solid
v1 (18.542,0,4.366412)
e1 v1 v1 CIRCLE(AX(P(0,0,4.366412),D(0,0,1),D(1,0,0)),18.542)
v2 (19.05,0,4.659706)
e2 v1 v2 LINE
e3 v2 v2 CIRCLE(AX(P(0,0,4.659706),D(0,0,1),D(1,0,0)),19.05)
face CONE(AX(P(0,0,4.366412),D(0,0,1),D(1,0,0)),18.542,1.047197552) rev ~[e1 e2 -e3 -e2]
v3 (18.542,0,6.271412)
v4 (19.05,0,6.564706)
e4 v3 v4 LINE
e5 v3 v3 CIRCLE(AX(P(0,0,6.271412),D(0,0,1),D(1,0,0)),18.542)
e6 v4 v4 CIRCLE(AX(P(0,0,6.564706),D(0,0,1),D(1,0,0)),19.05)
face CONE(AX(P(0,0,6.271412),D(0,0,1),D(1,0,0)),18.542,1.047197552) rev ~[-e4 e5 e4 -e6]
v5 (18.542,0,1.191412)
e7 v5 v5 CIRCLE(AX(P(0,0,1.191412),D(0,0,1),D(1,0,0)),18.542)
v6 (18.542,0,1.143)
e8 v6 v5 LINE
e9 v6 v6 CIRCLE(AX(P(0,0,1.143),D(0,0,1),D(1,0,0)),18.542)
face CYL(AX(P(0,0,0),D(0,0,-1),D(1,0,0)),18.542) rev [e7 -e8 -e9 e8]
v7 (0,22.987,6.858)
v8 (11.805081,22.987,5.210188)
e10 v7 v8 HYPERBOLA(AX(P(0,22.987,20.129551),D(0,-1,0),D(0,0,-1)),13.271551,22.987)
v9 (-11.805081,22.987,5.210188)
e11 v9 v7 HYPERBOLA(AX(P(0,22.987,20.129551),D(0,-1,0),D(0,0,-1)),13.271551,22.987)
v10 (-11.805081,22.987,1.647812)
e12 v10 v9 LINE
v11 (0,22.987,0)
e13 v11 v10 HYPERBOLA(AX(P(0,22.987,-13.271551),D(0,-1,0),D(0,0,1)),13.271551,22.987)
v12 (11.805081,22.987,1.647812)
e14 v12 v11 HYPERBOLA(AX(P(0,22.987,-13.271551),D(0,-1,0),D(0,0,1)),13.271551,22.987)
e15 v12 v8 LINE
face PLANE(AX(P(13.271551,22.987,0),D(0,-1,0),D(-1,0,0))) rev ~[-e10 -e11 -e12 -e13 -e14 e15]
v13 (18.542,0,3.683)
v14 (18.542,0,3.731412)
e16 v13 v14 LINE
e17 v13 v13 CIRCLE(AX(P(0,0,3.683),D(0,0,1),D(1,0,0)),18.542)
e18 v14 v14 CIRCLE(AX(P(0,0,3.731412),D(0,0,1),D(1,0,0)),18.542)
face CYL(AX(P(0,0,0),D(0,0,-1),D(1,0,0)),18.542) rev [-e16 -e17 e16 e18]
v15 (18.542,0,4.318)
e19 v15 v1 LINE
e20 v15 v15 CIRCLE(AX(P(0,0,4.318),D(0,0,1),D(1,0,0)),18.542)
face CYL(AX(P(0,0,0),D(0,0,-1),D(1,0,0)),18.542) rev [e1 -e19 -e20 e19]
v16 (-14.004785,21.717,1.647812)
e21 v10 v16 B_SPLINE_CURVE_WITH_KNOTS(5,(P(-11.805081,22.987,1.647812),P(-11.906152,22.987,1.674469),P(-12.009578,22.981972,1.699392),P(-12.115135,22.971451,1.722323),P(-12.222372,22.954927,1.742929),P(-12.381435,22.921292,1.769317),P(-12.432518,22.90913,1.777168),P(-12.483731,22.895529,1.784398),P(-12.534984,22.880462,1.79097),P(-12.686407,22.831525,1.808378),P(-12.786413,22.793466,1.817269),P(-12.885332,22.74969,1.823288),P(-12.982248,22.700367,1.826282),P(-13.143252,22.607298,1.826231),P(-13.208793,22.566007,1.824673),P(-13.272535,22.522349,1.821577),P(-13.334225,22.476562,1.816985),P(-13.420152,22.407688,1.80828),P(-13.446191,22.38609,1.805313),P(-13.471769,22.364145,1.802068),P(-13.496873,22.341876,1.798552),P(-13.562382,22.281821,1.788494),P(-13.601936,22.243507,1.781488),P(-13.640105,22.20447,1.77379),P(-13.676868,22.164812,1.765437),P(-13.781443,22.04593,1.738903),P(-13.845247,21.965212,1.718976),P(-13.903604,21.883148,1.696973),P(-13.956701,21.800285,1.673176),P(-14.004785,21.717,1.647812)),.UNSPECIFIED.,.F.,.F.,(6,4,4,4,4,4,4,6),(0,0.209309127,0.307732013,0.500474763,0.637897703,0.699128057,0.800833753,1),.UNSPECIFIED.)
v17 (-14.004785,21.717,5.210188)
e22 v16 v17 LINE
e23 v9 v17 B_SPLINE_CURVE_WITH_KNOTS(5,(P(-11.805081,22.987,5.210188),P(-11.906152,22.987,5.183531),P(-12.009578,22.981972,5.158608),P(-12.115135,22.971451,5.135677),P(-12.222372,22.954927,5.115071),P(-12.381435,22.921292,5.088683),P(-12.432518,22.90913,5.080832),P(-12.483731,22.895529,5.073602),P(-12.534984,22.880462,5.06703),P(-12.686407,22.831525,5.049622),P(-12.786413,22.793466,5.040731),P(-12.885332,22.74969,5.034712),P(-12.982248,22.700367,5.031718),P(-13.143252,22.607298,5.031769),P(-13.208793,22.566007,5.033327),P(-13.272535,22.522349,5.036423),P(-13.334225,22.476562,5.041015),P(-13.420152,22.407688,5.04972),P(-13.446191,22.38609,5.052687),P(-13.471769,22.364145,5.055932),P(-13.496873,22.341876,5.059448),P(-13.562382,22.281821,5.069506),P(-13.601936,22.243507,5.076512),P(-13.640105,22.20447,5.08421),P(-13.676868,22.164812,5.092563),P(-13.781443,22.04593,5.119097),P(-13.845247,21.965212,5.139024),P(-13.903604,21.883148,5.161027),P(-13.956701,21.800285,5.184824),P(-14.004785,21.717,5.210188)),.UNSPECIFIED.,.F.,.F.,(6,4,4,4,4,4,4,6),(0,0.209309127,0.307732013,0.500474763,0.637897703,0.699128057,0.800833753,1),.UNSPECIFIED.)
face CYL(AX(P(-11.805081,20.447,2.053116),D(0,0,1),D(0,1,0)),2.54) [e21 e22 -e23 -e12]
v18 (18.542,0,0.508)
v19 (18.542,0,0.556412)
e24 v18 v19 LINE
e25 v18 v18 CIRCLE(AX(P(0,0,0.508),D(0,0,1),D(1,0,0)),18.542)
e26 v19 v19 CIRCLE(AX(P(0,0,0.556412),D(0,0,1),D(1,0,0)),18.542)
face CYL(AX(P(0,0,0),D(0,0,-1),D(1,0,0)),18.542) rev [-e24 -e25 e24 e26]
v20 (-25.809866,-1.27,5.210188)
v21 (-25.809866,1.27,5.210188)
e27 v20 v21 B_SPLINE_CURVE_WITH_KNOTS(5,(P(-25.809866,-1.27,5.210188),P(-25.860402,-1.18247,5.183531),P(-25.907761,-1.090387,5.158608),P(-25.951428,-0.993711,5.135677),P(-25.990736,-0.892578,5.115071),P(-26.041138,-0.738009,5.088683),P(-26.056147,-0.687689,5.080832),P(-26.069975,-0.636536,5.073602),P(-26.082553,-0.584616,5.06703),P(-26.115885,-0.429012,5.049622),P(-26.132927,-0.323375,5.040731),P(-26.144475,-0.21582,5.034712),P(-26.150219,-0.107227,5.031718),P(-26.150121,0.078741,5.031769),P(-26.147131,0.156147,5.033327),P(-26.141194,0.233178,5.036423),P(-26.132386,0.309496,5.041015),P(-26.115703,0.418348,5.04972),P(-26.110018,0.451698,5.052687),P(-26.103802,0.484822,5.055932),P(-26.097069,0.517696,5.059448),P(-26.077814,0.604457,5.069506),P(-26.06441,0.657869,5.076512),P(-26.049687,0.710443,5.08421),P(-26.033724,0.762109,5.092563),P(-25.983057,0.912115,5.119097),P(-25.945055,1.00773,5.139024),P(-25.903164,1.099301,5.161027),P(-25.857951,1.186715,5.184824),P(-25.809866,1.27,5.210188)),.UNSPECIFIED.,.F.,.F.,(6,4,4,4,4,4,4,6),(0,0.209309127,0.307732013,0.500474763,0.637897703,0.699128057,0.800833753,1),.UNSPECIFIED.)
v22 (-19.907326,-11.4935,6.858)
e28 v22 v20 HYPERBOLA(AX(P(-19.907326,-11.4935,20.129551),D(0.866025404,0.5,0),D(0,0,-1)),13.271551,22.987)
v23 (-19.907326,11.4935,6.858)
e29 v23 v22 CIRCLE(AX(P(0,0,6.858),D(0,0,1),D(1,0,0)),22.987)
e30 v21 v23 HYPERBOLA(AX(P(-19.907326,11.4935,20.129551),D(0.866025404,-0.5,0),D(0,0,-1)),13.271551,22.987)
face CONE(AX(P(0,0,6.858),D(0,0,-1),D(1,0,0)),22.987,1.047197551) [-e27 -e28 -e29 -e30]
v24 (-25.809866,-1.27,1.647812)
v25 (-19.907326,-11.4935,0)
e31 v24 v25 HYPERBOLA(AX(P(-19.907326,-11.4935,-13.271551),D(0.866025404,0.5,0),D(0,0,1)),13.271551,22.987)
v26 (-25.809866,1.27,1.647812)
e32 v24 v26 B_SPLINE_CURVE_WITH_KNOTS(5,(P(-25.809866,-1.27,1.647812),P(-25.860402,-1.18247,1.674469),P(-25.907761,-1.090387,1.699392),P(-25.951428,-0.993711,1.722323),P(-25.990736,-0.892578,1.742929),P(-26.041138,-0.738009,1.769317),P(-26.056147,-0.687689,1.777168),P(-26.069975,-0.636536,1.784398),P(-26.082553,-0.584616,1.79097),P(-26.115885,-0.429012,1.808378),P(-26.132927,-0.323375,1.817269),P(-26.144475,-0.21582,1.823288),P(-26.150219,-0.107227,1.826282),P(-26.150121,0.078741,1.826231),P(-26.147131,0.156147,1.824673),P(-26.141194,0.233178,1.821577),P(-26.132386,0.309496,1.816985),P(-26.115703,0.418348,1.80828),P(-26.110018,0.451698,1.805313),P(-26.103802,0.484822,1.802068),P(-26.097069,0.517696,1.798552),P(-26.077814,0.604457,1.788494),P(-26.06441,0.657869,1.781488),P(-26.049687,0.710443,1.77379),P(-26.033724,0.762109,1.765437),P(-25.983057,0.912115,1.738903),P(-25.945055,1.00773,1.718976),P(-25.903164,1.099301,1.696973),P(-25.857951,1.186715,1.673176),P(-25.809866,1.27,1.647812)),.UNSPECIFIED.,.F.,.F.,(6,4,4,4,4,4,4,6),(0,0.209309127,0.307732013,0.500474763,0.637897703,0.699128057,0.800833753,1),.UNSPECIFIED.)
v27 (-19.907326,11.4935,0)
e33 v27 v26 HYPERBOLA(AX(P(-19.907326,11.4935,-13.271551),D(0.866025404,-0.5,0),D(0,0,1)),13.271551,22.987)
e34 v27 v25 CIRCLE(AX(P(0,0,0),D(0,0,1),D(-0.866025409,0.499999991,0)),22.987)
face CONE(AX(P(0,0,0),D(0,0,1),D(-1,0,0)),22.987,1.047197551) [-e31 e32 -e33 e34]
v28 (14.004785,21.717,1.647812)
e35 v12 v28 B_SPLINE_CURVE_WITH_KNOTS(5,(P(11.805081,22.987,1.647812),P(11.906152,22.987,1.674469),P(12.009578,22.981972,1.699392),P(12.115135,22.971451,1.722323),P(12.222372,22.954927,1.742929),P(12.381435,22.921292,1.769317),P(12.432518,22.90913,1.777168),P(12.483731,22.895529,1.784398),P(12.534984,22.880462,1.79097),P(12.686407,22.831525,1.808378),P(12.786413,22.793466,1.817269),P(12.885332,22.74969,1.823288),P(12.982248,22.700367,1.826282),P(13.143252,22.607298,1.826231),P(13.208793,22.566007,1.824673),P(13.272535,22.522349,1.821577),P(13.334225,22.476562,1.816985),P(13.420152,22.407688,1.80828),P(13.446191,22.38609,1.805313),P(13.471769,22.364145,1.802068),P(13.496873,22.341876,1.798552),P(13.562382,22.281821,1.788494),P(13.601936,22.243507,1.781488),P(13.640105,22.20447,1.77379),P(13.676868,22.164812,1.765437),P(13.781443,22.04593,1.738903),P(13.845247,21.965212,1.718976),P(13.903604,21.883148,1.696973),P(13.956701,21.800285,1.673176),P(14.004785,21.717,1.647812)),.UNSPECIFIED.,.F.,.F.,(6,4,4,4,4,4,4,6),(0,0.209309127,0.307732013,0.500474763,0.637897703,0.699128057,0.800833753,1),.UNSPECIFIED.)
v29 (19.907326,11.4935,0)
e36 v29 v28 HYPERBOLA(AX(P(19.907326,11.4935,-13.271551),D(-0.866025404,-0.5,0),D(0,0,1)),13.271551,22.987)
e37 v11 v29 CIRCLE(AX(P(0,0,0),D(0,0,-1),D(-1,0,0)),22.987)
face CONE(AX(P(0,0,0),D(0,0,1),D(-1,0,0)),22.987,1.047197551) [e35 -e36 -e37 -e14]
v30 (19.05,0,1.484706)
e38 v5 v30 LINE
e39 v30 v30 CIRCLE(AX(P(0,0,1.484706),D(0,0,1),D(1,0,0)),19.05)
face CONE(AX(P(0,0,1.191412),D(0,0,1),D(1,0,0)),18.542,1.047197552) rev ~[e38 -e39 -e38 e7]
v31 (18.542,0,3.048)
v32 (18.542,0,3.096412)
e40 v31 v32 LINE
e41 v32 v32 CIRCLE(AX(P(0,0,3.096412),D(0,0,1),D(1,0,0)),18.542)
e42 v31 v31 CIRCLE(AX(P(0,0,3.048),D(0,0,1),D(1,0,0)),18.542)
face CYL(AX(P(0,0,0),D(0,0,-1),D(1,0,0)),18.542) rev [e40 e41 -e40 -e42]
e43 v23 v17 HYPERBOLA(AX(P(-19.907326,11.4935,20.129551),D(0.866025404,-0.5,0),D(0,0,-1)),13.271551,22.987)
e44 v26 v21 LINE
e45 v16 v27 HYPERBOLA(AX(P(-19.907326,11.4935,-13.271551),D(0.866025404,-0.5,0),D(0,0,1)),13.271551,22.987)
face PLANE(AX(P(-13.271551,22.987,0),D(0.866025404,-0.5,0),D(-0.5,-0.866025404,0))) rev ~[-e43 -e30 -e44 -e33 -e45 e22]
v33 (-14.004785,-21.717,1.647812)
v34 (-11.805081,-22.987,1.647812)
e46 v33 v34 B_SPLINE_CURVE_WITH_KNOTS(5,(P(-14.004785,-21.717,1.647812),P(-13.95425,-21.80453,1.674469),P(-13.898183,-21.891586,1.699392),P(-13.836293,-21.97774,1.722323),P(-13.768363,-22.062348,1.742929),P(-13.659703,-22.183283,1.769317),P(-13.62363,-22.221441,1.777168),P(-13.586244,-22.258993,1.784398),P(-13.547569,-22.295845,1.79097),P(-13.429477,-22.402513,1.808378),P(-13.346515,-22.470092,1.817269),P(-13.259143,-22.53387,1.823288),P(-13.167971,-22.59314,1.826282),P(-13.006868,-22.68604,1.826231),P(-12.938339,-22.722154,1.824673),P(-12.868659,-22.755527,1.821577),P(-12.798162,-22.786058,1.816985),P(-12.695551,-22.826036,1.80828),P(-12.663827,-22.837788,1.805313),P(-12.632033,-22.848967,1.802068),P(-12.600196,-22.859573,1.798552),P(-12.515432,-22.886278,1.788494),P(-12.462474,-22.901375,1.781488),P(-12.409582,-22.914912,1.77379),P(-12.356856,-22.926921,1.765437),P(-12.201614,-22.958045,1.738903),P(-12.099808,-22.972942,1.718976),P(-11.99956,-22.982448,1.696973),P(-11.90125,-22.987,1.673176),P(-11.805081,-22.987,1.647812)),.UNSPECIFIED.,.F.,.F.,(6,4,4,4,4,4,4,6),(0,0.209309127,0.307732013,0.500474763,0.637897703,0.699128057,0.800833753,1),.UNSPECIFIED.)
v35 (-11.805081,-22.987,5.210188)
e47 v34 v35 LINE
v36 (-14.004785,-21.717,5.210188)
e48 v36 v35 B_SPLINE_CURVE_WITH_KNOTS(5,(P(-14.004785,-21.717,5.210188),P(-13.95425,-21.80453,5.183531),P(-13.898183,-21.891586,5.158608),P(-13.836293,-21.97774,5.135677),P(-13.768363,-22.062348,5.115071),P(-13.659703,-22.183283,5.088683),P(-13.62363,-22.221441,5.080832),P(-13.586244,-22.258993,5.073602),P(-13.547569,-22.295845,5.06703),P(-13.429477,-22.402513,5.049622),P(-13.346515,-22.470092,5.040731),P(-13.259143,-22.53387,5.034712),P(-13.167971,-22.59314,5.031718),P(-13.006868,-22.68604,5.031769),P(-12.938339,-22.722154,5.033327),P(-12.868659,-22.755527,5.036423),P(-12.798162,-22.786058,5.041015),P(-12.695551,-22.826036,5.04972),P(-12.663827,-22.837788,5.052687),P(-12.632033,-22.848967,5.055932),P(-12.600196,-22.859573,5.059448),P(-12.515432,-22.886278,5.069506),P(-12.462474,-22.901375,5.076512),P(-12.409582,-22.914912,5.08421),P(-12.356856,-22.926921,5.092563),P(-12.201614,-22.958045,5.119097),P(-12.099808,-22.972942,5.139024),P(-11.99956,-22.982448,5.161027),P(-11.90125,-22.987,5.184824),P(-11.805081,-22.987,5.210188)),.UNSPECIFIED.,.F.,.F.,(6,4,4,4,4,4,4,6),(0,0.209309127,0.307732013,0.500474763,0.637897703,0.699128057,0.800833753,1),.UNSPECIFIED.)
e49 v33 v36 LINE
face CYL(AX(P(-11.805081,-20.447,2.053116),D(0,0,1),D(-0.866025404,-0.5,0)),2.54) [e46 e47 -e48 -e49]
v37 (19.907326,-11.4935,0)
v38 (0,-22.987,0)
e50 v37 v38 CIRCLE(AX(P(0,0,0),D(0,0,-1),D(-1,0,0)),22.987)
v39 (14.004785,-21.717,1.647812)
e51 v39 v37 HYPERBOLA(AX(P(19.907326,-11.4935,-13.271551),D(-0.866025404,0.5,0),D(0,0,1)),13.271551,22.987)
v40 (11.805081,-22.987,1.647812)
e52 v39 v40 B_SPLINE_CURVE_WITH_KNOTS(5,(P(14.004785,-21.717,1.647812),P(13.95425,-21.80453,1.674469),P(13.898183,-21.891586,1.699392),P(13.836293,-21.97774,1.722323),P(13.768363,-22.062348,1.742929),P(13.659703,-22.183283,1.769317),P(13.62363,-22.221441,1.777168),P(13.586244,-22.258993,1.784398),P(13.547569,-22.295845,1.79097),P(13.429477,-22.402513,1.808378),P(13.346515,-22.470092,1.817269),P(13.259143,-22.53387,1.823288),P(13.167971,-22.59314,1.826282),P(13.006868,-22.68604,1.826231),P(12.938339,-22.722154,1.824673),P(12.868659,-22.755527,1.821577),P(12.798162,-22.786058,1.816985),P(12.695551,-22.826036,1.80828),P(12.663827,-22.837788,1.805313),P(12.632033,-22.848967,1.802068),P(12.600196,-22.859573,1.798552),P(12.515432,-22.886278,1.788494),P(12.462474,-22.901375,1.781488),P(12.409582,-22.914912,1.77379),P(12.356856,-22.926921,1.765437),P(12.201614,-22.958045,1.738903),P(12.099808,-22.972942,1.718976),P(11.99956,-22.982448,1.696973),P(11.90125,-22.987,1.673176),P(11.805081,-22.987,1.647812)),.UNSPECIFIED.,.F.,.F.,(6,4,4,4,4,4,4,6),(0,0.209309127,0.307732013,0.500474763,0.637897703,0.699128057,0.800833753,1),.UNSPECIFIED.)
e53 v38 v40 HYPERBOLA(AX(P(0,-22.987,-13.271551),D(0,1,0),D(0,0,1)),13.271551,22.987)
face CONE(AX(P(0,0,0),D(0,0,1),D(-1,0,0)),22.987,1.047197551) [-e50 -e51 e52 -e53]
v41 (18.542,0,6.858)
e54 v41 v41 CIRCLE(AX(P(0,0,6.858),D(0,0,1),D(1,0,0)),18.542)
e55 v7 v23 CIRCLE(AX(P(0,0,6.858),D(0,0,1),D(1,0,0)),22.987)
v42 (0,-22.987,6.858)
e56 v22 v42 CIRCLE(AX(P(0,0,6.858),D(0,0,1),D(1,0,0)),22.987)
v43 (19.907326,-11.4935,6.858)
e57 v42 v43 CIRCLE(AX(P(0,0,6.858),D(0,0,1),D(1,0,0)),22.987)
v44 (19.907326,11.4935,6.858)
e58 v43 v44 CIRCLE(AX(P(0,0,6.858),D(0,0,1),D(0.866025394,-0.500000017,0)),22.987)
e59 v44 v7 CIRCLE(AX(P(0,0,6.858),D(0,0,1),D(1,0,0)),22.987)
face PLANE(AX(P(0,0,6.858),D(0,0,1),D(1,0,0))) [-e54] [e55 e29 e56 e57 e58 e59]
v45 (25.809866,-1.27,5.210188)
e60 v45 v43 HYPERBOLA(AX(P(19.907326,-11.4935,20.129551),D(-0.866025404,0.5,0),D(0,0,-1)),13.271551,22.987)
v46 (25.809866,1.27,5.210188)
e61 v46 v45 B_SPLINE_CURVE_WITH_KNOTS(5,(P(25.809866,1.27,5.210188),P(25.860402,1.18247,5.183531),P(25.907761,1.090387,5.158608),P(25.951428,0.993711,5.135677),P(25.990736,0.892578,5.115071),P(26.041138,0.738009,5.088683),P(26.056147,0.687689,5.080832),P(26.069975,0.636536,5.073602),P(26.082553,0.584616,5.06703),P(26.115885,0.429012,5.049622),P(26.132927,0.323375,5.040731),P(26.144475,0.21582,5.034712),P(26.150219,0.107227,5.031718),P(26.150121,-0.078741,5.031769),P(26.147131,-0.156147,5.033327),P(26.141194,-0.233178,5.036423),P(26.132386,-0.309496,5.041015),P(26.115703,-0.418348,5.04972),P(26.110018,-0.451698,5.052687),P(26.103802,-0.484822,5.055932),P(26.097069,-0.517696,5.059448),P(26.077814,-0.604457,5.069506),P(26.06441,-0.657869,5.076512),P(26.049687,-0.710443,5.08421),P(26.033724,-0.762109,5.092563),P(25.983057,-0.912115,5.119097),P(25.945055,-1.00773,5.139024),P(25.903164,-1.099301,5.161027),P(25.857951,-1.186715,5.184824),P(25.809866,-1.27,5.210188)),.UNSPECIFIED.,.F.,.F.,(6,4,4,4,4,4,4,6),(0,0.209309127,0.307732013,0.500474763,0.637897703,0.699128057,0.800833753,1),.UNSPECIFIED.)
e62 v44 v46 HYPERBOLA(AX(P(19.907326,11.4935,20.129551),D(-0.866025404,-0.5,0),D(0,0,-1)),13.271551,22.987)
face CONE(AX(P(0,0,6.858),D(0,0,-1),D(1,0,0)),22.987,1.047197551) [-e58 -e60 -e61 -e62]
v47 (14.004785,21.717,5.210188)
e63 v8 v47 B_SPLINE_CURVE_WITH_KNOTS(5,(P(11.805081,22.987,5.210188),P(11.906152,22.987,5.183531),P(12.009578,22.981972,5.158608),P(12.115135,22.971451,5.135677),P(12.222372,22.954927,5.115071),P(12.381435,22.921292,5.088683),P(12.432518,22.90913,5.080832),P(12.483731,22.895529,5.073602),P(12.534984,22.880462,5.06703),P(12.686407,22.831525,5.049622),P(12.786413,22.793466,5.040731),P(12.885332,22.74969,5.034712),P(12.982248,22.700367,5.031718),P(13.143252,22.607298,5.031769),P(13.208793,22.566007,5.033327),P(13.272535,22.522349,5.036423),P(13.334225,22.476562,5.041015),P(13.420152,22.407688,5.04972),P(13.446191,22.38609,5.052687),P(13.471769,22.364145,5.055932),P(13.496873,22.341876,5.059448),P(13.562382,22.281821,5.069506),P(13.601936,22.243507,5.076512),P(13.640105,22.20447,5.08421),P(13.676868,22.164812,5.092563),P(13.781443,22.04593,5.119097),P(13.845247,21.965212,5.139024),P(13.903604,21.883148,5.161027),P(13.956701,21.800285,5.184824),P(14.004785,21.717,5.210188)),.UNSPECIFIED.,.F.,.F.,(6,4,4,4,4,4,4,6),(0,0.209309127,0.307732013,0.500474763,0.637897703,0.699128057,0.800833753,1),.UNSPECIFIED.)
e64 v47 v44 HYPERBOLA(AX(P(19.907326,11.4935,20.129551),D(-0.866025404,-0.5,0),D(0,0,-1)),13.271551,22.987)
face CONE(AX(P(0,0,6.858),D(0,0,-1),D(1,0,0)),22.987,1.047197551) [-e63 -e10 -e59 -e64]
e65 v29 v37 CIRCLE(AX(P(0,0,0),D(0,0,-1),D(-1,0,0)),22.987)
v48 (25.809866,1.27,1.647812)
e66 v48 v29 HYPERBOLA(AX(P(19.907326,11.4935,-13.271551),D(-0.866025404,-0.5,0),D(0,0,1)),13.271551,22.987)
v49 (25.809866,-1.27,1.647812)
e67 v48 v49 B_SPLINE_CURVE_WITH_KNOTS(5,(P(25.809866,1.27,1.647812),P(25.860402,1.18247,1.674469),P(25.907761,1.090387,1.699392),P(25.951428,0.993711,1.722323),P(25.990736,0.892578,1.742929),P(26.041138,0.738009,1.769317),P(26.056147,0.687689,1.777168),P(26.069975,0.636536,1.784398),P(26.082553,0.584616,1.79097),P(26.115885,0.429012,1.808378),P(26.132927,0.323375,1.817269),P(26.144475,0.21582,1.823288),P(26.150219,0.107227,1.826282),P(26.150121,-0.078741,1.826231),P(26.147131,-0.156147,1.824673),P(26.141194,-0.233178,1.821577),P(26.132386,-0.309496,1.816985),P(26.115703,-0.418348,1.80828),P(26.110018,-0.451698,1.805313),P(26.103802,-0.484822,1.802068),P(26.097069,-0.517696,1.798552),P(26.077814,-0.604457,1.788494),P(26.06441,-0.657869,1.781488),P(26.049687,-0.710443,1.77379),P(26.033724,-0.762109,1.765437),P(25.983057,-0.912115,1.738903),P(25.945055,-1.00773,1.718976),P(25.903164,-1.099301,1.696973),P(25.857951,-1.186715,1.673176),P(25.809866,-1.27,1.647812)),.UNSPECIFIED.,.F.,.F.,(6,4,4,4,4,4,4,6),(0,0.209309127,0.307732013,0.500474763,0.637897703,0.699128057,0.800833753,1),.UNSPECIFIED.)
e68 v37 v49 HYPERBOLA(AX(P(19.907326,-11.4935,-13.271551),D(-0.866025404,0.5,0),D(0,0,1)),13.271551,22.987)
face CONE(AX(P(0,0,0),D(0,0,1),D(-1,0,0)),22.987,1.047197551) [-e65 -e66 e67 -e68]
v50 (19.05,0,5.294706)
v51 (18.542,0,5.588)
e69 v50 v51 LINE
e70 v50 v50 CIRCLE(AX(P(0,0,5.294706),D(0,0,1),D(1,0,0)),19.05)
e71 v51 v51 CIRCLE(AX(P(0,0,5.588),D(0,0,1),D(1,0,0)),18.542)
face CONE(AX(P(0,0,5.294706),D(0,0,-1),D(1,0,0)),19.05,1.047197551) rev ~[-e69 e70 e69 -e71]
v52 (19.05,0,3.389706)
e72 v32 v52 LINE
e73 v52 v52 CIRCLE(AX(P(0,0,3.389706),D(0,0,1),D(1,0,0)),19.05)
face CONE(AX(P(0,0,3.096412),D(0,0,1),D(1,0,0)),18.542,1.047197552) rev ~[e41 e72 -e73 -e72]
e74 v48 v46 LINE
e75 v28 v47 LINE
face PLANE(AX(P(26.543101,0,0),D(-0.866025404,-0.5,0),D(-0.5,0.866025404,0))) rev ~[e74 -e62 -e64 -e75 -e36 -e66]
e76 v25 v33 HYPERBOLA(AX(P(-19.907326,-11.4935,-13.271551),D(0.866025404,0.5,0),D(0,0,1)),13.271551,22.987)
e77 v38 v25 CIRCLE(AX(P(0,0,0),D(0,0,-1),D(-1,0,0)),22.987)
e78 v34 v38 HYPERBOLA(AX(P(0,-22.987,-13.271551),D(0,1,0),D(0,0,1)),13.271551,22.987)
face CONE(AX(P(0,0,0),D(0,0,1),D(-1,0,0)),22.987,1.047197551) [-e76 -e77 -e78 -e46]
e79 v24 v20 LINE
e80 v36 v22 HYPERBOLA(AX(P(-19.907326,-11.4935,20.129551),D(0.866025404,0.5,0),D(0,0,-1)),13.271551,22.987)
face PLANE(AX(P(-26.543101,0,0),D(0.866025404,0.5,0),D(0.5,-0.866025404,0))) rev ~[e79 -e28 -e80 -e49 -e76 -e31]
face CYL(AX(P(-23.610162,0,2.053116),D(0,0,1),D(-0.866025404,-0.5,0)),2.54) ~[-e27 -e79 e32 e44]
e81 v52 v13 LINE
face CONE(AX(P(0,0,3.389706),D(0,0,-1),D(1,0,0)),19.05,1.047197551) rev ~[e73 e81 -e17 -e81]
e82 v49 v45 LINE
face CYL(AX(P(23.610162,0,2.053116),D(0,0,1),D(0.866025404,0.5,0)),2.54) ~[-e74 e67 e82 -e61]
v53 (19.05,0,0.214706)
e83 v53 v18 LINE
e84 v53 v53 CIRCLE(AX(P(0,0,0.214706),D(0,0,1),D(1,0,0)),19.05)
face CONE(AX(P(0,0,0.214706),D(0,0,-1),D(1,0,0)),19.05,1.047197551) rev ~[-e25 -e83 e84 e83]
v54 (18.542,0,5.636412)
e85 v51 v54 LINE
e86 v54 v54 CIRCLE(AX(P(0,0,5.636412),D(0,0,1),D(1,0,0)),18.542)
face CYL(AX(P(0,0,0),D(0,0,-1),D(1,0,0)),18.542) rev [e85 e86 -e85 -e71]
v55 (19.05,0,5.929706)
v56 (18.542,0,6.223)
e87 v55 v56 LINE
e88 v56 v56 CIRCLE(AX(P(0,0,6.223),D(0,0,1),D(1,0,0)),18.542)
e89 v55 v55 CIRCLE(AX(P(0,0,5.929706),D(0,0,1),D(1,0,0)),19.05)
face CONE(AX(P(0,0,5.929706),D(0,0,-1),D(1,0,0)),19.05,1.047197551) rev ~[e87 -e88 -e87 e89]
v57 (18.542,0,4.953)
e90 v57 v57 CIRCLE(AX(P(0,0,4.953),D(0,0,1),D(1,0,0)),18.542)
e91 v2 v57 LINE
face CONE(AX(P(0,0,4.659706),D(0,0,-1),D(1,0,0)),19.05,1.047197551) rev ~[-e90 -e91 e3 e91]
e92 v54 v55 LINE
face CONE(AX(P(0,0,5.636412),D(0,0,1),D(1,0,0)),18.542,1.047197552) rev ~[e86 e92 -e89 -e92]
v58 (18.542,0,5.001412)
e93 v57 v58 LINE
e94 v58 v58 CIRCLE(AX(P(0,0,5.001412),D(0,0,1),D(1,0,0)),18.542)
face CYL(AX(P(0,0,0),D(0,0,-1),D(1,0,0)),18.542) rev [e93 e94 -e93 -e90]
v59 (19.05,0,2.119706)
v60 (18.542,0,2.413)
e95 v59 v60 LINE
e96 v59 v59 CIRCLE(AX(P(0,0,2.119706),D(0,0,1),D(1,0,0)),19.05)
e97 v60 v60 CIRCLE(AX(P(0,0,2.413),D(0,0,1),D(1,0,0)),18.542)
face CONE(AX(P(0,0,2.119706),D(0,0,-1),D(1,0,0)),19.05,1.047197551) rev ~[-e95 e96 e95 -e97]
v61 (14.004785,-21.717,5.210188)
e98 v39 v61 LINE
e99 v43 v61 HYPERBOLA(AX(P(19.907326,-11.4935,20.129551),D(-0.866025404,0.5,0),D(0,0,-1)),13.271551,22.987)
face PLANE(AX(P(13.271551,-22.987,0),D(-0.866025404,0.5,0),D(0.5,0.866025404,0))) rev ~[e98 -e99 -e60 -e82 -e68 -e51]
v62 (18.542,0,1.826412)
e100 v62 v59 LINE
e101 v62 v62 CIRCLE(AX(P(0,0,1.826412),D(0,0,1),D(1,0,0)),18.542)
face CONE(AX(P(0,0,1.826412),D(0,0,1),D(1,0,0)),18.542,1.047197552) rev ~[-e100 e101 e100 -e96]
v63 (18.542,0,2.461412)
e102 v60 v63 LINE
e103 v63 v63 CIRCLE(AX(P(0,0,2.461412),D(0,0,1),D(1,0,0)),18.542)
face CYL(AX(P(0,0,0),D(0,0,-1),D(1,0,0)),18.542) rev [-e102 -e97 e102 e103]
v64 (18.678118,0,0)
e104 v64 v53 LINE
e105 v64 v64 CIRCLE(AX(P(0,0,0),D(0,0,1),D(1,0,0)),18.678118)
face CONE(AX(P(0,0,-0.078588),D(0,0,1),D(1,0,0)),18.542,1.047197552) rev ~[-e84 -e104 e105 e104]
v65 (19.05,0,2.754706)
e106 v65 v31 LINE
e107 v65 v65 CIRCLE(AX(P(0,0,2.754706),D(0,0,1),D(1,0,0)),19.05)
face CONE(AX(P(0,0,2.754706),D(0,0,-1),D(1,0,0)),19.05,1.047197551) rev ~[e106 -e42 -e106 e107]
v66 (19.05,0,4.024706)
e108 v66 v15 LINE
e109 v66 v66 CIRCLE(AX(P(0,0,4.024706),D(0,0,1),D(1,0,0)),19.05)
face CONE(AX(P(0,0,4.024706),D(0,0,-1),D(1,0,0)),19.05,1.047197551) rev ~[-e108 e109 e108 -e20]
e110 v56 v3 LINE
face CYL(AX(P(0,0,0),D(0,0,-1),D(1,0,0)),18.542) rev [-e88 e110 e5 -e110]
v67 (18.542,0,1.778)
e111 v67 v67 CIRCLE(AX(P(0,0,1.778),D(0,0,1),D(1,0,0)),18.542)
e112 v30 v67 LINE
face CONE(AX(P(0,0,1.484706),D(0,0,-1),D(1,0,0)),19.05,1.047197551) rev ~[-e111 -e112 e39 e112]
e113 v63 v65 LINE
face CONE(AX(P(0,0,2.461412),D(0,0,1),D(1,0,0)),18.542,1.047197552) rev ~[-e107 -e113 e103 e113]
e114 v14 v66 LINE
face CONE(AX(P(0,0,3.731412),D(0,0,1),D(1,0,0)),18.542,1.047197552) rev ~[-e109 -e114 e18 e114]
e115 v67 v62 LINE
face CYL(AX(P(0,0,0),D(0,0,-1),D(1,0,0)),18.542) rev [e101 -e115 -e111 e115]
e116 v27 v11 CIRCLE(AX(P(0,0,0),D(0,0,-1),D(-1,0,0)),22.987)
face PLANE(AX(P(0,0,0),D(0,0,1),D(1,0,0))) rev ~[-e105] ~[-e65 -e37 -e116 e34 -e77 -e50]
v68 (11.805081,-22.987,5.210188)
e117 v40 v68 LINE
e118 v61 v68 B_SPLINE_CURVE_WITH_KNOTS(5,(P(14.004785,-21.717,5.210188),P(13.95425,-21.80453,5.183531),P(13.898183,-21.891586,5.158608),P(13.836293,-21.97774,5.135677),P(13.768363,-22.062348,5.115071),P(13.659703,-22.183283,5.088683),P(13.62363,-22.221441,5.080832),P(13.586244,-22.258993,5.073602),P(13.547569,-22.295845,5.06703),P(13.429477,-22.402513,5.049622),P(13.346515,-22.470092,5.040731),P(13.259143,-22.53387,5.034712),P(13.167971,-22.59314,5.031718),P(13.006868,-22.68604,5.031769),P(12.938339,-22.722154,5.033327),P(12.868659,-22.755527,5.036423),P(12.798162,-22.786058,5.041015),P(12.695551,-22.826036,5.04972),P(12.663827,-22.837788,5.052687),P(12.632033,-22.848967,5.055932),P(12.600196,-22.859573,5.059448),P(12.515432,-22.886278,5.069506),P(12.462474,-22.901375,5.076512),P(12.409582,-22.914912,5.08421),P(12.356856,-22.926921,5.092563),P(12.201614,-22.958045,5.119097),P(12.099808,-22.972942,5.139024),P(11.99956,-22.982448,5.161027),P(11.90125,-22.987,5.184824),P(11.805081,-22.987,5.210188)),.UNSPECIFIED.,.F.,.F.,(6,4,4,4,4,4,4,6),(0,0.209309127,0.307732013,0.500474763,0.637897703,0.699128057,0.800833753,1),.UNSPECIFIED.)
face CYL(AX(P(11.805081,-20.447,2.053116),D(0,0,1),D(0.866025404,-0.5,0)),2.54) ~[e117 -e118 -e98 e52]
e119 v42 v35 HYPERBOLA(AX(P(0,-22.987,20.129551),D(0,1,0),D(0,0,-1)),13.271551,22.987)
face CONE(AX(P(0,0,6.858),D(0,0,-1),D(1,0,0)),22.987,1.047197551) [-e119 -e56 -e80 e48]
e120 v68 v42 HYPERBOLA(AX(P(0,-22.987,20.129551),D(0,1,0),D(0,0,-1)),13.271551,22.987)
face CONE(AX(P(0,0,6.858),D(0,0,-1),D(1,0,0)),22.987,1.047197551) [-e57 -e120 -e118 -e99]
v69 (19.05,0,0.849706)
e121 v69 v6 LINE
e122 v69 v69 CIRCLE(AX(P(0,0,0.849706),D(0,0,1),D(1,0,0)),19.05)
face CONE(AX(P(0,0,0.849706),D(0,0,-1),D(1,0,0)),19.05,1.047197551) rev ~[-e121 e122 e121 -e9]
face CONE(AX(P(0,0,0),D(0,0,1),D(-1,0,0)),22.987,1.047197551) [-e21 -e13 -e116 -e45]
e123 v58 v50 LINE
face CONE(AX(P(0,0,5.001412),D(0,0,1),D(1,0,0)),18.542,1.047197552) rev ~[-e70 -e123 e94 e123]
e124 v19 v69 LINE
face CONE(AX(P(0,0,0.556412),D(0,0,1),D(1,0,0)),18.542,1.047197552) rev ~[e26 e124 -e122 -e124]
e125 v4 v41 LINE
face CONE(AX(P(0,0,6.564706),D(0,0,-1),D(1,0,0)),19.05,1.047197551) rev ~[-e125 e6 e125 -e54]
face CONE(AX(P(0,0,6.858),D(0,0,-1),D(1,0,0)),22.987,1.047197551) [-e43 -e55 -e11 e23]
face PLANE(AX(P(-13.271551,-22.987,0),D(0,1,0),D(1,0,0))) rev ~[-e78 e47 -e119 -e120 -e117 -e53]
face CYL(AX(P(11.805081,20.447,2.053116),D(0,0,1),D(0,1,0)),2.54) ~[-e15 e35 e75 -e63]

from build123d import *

# Parameters (mm, degrees)
SKETCH1_R          = 18.542
EXTRUDE1_DEPTH     = 6.858
SKETCH2_OUTSIDE_W  = 96.42
SKETCH2_OUTSIDE_H  = 89.308
SKETCH2_OUTSIDE_R  = 22.987
CUT_EXTRUDE1_DEPTH = 7.858
CUT_EXTRUDE1_DRAFT = -60
SKETCH3_OUTSIDE_W  = 96.42
SKETCH3_OUTSIDE_H  = 89.308
SKETCH3_OUTSIDE_R  = 22.987
CUT_EXTRUDE2_DEPTH = 7.858
CUT_EXTRUDE2_DRAFT = -60
FILLET1_R          = 2.54
LPATTERN1_COUNT    = 11
LPATTERN1_PITCH    = 0.635


with BuildPart() as part:
    # Sketch1 → Extrude1 (new body)
    with BuildSketch(Plane.XY):
        Polygon((-26.543101276, 0), (-13.271550638, -22.987), (13.271550638, -22.987), (26.543101276, 0), (13.271550638, 22.987), (-13.271550638, 22.987), align=None)
        Circle(SKETCH1_R, mode=Mode.SUBTRACT)
    extrude(amount=EXTRUDE1_DEPTH)


with BuildPart() as cut_extrude1_tool:
    # Sketch2 outside → Cut-Extrude1 (with draft: the straight prism first)
    with BuildSketch(Plane.XY.offset(6.858)):
        Rectangle(SKETCH2_OUTSIDE_W, SKETCH2_OUTSIDE_H)
        Circle(SKETCH2_OUTSIDE_R, mode=Mode.SUBTRACT)
    extrude(amount=-CUT_EXTRUDE1_DEPTH)
    # Cut-Extrude1: the draft: its side faces are tilted about the plane it starts from
    cut_extrude1_sides = [cut_extrude1_tool.faces().sort_by_distance(p)[0] for p in [
        (0, -44.654, 2.929),
        (48.21, 0, 2.929),
        (0, 44.654, 2.929),
        (-48.21, 0, 2.929),
        (-22.987, 0, 2.929),
    ]]
    draft(cut_extrude1_sides, Plane.XY.offset(6.858), CUT_EXTRUDE1_DRAFT)


with BuildPart() as part_1:
    add(part.part)

    # Cut-Extrude1: cut by cut_extrude1_tool
    add(cut_extrude1_tool.part, mode=Mode.SUBTRACT)


with BuildPart() as cut_extrude2_tool:
    # Sketch3 outside → Cut-Extrude2 (with draft: the straight prism first)
    with BuildSketch(Plane(origin=(0, 0, 0), x_dir=(-1, 0, 0), z_dir=(0, 0, -1))):
        Rectangle(SKETCH3_OUTSIDE_W, SKETCH3_OUTSIDE_H)
        Circle(SKETCH3_OUTSIDE_R, mode=Mode.SUBTRACT)
    extrude(amount=-CUT_EXTRUDE2_DEPTH)
    # Cut-Extrude2: the draft: its side faces are tilted about the plane it starts from
    cut_extrude2_sides = [cut_extrude2_tool.faces().sort_by_distance(p)[0] for p in [
        (0, -44.654, 3.929),
        (-48.21, 0, 3.929),
        (0, 44.654, 3.929),
        (48.21, 0, 3.929),
        (22.987, 0, 3.929),
    ]]
    draft(cut_extrude2_sides, Plane(origin=(0, 0, 0), x_dir=(-1, 0, 0), z_dir=(0, 0, -1)), CUT_EXTRUDE2_DRAFT)


with BuildPart() as part_2:
    add(part_1.part)

    # Cut-Extrude2: cut by cut_extrude2_tool
    add(cut_extrude2_tool.part, mode=Mode.SUBTRACT)

    # Fillet1
    fillet1_edges = [part_2.edges().sort_by_distance(p)[0] for p in [
        (26.543101276, 0, 3.429),
        (13.271550638, -22.987, 3.429),
        (-13.271550638, -22.987, 3.429),
        (-26.543101276, 0, 3.429),
        (-13.271550638, 22.987, 3.429),
        (13.271550638, 22.987, 3.429),
    ]]
    fillet(fillet1_edges, radius=FILLET1_R)

    # Sketch4 → Cut-Revolve1 (revolve, cut)
    with BuildSketch(Plane(origin=(0, 0, 0), x_dir=(1, 0, 0), z_dir=(0, 1, 0)), mode=Mode.PRIVATE) as cut_revolve1_sk:
        Polygon((-18.542, -6.858), (-18.542, -6.271412127), (-19.05, -6.564706063), align=None)
    cut_revolve1 = revolve(cut_revolve1_sk.sketch.rotate(Axis((0, 0, 0), (0, 0, 1)), 180), axis=Axis((0, 0, 0), (0, 0, 1)), mode=Mode.SUBTRACT)  # turned: the seam where the file's is

    # LPattern1: Cut-Revolve1 ×11
    with Locations(*[(0, 0, -i * LPATTERN1_PITCH) for i in range(1, LPATTERN1_COUNT)]):
        add(cut_revolve1, mode=Mode.SUBTRACT)


solid = part_2.part
